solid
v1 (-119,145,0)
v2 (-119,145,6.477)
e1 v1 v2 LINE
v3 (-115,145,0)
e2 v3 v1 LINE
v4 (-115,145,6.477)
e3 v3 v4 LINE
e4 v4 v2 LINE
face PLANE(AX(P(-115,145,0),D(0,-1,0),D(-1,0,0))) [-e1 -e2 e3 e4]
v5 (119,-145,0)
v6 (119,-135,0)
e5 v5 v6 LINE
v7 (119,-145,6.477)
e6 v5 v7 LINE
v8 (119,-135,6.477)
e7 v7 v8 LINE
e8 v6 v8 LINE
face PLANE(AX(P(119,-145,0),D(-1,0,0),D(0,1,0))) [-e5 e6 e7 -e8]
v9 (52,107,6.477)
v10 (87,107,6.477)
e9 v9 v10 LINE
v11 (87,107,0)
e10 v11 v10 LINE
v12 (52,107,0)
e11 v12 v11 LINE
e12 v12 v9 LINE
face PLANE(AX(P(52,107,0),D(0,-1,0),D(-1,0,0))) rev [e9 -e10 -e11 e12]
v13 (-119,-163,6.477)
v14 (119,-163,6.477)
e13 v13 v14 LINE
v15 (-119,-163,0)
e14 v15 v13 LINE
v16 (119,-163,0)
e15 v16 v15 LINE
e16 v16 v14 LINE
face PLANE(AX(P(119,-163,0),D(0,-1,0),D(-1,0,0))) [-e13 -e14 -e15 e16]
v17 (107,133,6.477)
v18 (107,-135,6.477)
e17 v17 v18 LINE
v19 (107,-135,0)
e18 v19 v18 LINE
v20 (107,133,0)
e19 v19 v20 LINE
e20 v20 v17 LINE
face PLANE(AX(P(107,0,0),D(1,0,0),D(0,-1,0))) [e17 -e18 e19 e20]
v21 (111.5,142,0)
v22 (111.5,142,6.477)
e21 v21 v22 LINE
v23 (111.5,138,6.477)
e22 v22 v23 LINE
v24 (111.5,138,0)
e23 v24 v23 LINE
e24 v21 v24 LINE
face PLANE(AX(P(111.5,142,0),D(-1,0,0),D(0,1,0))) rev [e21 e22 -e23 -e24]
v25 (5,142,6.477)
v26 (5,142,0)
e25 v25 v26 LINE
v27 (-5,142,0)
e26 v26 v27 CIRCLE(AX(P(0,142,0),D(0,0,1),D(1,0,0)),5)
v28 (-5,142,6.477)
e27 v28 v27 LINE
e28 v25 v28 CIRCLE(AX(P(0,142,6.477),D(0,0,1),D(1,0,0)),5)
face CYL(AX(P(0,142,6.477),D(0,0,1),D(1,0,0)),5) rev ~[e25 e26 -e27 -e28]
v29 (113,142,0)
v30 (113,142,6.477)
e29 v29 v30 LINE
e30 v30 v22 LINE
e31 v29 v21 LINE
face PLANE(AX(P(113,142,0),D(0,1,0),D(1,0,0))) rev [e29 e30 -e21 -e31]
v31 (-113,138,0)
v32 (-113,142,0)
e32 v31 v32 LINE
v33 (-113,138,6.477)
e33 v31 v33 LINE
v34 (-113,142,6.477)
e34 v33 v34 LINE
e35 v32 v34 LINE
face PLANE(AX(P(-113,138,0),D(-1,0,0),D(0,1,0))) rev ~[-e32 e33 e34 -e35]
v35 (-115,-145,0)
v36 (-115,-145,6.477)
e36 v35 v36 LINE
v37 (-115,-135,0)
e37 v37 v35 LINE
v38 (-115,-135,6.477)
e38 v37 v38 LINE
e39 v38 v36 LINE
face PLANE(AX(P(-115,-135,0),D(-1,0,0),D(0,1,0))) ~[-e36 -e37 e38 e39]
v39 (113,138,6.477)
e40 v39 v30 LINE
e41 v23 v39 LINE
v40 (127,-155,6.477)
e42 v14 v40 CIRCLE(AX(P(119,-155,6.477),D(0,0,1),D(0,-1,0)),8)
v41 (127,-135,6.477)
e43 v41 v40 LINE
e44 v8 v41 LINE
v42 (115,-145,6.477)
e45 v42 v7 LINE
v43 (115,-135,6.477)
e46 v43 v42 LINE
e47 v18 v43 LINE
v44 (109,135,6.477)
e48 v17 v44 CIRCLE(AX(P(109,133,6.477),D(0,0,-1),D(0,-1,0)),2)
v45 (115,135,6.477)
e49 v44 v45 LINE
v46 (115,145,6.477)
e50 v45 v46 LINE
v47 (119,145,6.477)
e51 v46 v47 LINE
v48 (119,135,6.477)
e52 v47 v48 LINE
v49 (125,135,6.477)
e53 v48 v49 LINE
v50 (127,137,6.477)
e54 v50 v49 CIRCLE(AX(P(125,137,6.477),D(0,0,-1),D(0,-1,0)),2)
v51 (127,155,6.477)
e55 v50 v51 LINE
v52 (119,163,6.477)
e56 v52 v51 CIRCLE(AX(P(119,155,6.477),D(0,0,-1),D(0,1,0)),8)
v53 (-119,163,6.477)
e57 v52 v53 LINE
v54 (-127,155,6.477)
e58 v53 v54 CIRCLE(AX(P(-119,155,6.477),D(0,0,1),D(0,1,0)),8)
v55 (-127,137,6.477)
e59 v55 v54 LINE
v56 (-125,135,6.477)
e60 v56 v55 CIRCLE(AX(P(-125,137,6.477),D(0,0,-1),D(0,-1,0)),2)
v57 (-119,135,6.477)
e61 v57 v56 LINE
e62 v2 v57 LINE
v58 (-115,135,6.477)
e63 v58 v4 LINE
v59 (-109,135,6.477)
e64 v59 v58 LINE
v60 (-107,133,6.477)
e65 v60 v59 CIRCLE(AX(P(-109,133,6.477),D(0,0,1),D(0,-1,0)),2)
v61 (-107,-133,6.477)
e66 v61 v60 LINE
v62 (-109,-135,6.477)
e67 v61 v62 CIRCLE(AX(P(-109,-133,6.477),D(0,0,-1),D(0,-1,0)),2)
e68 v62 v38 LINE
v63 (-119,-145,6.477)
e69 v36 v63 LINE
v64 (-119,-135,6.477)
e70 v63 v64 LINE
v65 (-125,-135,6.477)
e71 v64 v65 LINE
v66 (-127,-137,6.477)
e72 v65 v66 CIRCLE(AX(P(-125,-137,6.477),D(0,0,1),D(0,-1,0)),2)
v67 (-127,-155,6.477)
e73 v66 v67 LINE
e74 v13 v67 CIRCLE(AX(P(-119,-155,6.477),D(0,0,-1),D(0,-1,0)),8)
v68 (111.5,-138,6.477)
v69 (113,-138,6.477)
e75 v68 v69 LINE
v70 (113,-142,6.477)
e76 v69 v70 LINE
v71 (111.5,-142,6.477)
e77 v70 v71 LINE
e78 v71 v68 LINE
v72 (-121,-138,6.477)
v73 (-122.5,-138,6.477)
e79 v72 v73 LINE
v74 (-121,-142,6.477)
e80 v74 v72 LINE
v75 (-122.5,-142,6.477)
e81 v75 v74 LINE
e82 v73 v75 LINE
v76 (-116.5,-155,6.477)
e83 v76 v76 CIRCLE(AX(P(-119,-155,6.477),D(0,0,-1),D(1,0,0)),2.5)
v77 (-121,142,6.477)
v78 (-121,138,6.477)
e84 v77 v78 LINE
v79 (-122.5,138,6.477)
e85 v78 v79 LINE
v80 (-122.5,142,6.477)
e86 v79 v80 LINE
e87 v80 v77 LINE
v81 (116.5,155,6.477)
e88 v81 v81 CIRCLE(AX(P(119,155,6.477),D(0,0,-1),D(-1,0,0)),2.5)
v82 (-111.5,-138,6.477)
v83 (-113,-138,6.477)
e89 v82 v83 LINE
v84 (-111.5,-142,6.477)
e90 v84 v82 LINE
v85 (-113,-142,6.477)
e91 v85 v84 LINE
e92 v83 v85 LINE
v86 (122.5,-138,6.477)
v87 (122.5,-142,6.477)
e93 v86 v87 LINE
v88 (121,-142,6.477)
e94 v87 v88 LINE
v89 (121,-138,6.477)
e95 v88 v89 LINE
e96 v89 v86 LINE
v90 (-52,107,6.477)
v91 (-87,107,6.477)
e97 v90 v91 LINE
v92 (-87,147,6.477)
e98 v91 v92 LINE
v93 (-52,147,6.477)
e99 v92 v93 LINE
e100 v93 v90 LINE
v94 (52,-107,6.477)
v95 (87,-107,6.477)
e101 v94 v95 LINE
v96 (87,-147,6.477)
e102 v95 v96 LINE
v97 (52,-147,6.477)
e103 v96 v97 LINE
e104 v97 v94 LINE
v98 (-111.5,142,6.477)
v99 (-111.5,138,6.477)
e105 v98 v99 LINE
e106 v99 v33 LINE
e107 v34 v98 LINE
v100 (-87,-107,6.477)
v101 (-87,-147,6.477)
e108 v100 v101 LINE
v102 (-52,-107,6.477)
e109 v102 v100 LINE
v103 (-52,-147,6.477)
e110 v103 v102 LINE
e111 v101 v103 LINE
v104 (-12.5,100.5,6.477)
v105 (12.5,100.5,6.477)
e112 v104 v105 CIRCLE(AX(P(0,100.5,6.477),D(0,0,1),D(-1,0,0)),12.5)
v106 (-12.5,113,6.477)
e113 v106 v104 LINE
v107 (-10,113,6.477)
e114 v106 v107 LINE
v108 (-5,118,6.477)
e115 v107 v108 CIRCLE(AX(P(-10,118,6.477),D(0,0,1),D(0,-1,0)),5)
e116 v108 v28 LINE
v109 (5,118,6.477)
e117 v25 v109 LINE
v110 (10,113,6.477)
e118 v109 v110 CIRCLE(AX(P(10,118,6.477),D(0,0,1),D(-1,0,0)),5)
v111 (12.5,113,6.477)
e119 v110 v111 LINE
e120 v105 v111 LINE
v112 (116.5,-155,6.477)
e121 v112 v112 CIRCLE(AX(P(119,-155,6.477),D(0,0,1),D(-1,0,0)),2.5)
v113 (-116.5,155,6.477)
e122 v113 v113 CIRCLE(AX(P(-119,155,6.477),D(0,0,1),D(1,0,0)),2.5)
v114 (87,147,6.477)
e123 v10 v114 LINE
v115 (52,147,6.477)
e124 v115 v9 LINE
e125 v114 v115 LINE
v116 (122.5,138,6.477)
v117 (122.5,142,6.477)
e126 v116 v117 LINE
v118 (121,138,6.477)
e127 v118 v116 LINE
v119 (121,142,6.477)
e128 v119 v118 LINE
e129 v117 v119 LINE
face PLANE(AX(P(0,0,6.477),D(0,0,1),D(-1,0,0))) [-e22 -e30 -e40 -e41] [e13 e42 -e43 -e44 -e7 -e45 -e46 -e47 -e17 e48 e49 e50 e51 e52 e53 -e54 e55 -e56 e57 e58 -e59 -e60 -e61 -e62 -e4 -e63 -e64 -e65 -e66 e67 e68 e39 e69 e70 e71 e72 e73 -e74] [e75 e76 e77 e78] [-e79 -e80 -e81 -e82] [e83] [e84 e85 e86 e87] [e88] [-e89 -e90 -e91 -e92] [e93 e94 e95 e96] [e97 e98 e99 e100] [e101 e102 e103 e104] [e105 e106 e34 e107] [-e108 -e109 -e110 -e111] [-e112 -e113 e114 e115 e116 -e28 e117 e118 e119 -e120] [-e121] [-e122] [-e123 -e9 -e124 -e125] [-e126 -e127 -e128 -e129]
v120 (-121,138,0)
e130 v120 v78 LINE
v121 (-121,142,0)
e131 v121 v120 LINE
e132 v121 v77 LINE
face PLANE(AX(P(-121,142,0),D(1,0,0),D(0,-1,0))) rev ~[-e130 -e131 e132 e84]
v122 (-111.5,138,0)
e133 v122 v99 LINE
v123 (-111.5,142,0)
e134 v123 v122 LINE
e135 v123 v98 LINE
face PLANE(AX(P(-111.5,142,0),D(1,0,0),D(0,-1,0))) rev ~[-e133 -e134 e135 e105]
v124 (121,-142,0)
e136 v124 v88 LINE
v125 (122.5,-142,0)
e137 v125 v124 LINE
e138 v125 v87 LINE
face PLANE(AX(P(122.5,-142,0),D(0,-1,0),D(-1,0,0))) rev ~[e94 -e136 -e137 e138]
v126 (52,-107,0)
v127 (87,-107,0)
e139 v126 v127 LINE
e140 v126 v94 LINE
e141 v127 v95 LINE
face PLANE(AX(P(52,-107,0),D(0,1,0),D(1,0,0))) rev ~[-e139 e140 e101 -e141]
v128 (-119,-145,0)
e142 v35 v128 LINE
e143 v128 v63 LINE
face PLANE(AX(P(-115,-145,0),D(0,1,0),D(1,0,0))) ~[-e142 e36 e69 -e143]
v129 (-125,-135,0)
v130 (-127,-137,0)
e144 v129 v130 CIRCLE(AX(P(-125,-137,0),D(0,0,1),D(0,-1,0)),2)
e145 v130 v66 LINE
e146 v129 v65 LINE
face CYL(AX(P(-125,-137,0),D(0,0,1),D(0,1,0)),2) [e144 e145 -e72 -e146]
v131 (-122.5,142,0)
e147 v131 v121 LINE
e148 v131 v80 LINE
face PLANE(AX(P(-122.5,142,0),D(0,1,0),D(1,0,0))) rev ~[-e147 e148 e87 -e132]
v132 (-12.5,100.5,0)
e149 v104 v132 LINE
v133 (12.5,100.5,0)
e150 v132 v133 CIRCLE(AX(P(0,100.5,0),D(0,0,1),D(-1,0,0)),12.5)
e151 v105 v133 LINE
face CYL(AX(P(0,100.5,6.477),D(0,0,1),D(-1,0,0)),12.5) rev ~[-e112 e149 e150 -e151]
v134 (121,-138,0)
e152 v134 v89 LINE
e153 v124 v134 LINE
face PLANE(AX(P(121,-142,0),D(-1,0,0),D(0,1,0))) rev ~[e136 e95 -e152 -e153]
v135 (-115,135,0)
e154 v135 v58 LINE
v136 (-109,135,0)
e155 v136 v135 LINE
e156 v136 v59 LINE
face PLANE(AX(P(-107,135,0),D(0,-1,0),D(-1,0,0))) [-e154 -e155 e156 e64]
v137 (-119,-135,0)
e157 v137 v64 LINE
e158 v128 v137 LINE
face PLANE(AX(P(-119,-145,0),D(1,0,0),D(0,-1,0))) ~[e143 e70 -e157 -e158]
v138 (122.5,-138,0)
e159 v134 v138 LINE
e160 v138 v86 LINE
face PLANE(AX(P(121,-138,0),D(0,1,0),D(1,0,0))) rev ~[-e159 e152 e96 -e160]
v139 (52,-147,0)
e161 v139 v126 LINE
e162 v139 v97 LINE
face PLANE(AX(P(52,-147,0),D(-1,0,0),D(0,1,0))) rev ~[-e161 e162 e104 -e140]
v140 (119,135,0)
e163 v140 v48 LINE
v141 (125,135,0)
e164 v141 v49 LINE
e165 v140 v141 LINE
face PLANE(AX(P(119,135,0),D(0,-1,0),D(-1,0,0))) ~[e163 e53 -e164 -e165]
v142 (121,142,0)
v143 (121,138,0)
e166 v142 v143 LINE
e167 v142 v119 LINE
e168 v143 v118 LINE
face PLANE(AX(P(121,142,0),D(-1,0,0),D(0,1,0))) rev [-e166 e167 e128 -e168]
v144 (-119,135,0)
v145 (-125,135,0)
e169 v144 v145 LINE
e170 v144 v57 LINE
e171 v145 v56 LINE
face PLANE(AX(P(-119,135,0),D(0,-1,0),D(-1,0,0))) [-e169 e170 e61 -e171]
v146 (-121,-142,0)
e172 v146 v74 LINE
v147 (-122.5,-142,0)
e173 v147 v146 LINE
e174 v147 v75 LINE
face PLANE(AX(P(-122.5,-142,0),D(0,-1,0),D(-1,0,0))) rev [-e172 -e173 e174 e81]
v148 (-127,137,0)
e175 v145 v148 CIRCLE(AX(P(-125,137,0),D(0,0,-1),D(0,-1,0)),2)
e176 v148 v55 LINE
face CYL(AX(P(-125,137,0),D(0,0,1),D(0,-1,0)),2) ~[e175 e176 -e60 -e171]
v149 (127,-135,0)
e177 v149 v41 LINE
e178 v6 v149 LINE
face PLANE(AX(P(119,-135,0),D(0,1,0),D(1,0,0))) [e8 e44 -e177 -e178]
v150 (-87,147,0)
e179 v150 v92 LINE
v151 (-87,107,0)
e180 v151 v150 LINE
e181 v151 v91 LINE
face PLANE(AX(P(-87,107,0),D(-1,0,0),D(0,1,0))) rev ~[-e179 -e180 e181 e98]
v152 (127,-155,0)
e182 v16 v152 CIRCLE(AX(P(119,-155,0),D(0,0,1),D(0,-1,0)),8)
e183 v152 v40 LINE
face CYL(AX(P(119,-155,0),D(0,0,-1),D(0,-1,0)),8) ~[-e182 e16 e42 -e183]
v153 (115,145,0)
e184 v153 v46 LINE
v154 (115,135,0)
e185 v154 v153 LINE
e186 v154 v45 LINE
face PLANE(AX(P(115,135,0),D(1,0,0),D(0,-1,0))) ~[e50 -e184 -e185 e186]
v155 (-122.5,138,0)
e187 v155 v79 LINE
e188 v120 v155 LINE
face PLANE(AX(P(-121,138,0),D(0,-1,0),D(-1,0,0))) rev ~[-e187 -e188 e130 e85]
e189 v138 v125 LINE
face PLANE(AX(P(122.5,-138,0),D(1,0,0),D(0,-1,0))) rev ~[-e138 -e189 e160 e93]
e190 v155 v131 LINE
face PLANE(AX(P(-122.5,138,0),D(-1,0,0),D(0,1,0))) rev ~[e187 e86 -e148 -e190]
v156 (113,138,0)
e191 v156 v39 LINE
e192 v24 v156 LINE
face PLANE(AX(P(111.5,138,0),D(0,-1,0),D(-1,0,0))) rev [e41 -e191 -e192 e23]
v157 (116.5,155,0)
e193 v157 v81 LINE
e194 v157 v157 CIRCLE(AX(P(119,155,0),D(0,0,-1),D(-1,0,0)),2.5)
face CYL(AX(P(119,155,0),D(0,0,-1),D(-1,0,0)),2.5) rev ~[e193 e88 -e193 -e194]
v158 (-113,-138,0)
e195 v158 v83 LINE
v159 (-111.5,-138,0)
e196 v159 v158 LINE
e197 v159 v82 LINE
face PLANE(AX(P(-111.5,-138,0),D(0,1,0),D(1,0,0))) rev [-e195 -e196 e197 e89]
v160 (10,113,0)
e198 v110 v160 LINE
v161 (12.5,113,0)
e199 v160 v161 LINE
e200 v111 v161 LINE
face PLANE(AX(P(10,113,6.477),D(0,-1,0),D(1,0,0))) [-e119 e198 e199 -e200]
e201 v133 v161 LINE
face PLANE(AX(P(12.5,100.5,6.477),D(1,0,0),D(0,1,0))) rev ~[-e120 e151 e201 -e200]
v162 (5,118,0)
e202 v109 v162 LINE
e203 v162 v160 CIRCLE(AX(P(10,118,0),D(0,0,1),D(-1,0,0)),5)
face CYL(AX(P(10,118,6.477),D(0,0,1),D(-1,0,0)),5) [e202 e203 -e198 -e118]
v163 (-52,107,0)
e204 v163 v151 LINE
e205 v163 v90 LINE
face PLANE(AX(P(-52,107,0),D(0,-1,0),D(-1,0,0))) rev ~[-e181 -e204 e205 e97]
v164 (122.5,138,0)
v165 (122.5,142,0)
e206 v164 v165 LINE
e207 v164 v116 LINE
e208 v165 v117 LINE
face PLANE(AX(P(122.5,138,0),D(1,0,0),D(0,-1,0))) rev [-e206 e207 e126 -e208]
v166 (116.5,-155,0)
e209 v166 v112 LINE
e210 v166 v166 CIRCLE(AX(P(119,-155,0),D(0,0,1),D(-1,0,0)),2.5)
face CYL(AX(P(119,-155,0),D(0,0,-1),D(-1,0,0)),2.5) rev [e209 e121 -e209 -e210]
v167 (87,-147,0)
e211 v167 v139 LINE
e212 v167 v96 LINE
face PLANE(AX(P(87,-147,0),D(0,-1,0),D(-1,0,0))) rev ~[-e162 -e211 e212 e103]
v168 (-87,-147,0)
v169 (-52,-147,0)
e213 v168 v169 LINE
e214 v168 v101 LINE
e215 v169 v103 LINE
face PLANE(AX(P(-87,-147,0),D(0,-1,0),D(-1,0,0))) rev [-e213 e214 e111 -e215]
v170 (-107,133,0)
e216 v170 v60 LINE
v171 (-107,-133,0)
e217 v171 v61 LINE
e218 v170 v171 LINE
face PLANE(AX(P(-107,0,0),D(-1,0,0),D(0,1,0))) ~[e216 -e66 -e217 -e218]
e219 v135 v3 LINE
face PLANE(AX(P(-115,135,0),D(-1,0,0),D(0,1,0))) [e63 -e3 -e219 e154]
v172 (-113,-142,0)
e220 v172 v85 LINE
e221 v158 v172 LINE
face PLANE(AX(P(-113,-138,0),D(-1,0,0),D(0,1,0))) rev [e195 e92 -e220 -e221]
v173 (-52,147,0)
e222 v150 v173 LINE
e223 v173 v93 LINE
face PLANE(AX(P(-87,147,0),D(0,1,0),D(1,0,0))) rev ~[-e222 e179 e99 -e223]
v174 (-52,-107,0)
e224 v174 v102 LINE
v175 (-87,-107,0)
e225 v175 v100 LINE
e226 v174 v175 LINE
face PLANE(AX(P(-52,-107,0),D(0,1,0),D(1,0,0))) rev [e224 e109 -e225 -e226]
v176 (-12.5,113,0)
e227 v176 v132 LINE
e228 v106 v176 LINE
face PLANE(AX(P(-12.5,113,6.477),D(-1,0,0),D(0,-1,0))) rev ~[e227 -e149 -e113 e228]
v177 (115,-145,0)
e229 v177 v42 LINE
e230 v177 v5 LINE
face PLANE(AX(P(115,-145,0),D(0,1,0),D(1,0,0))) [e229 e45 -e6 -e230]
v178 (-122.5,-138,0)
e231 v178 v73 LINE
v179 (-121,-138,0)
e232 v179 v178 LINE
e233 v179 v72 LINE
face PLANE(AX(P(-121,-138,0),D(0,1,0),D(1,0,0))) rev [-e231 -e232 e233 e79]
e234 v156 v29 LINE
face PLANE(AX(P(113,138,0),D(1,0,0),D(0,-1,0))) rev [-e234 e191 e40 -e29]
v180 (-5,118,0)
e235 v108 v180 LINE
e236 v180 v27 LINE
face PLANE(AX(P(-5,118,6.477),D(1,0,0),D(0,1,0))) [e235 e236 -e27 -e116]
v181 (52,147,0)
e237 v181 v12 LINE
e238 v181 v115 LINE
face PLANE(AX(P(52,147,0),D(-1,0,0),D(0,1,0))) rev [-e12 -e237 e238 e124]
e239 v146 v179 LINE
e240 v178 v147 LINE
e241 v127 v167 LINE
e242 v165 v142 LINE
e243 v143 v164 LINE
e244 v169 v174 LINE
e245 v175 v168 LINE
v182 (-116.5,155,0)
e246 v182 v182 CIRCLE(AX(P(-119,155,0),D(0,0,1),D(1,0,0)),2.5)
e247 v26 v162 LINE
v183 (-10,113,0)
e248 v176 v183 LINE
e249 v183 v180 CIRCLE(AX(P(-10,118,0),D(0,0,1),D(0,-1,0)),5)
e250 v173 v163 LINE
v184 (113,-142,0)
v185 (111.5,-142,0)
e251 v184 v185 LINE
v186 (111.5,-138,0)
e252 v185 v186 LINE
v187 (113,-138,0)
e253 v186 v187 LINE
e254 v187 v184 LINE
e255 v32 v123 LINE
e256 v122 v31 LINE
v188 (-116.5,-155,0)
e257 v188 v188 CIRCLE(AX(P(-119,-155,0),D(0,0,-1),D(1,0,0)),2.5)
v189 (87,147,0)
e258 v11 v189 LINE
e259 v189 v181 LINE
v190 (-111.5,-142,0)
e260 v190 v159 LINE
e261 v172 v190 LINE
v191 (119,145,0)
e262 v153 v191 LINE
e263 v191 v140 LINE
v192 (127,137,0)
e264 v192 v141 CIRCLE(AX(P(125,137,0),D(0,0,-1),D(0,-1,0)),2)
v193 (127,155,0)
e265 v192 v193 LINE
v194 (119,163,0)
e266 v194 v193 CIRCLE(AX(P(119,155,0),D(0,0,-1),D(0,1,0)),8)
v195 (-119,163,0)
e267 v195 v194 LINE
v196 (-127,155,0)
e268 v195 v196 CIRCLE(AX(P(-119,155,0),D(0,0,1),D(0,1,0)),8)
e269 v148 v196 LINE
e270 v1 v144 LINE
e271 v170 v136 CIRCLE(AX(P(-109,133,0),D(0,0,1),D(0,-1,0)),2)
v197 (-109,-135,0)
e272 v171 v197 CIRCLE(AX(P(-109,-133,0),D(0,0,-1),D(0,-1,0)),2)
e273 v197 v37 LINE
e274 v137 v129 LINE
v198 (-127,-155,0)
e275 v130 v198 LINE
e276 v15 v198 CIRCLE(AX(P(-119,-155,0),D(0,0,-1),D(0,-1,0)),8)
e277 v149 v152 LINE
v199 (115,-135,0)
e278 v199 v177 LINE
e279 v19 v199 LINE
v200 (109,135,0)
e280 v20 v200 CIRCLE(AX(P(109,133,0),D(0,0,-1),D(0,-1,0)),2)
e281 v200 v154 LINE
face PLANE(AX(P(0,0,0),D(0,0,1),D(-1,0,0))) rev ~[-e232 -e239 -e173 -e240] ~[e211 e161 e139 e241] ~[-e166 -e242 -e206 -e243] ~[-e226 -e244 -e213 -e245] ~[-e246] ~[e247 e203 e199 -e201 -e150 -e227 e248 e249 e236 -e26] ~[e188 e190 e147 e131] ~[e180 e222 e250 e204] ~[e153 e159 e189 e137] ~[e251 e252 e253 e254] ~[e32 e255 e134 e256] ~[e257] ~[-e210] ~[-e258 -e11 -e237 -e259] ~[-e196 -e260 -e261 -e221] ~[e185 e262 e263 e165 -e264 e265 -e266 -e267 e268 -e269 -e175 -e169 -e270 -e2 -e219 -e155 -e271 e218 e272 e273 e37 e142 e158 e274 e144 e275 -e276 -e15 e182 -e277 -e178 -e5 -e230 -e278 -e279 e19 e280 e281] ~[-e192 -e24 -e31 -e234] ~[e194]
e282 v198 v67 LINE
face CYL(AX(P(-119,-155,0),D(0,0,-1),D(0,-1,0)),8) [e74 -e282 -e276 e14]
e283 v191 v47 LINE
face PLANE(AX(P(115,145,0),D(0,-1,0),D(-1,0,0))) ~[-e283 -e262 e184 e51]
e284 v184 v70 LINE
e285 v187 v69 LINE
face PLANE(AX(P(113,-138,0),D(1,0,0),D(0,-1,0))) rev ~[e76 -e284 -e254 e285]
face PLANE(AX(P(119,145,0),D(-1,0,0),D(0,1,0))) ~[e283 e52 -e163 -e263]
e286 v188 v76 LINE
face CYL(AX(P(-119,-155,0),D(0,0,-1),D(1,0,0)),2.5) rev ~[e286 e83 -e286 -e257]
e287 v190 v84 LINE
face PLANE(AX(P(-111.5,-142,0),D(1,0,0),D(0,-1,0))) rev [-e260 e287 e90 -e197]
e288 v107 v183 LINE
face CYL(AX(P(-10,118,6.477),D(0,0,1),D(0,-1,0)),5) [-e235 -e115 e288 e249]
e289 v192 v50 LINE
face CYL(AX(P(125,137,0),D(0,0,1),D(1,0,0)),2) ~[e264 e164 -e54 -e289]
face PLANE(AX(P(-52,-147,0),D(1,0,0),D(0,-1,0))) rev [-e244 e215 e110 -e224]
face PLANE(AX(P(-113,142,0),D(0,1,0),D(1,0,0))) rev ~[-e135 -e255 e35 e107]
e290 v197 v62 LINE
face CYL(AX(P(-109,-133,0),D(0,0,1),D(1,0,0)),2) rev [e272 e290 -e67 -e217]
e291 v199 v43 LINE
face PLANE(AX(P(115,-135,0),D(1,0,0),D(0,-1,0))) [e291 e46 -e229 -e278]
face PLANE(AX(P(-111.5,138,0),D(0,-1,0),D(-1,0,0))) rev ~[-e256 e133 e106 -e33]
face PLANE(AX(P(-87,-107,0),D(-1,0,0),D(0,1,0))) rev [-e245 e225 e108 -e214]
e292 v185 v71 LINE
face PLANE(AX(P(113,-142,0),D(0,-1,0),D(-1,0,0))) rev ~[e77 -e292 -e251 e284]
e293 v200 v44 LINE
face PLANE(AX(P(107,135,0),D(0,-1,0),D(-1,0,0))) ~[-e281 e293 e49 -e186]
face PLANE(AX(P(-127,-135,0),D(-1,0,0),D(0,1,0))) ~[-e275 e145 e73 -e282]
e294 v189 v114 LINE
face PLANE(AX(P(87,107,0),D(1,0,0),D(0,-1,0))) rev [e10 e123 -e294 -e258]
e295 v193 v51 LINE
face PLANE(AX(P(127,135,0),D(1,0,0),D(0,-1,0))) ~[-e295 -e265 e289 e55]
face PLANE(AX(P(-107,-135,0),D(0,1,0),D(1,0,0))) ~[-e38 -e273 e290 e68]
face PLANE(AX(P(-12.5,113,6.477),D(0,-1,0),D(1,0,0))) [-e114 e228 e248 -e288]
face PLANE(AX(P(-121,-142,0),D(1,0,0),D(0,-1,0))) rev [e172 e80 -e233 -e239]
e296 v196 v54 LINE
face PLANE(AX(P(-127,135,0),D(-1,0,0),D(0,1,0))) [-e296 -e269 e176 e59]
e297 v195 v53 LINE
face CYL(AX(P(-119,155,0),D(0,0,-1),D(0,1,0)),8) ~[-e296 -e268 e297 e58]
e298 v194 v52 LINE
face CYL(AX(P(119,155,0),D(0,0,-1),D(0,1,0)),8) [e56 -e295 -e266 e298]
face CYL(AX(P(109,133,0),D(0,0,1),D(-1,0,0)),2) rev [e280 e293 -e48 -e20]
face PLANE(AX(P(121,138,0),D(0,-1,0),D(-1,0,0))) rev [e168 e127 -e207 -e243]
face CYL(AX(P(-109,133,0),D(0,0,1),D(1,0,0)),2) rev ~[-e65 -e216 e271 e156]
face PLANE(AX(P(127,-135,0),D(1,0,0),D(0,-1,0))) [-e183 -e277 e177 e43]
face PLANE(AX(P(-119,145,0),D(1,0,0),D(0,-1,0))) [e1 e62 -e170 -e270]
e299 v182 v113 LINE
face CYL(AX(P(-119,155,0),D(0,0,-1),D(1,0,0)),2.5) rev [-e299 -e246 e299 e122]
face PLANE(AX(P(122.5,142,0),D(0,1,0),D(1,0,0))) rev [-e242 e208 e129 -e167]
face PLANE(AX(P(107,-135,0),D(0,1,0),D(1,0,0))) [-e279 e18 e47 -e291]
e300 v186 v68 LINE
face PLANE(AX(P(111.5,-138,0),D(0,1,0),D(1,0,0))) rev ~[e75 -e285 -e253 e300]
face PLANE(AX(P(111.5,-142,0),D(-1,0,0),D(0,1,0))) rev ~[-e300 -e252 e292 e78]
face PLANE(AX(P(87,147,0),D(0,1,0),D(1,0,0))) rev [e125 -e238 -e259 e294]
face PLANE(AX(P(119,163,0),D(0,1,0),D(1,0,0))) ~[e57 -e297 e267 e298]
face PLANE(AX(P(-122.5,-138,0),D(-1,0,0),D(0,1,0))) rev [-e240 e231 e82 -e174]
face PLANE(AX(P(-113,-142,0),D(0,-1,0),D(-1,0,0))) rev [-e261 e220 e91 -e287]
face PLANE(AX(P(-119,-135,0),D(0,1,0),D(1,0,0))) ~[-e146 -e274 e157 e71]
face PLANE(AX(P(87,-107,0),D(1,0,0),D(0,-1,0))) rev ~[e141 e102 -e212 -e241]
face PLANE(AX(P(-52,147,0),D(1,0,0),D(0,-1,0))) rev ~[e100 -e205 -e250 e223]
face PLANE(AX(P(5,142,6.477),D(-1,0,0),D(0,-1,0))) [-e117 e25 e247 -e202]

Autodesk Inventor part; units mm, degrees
ref_plane "YZ Plane" through (0, 0, 0) normal (1, 0, 0) x (0, 1, 0)
ref_plane "XZ Plane" through (0, 0, 0) normal (0, 1, 0) x (-1, 0, 0)
ref_plane "XY Plane" through (0, 0, 0) normal (0, 0, 1) x (1, 0, 0)
sketch "Sketch1" plane through (0, 0, 0) normal (0, 0, 1) x (1, 0, 0)
  line L0 (0, 0) -> (-107, 0)
  line L1 (-107, 0) -> (-107, 135)
  line L2 (-107, 135) -> (-115, 135)
  line L3 (-115, 135) -> (-115, 145)
  line L4 (-115, 145) -> (-119, 145)
  line L5 (-119, 145) -> (-119, 135)
  line L6 (-119, 135) -> (-127, 135)
  line L7 (-127, 135) -> (-127, 155)
  arc A0 (-119, 163) -> (-127, 155) centre (-119, 155) ccw
  line L8 (-119, 163) -> (0, 163)
  line L9 (0, 163) -> (0, 0)
  circle A1 centre (-119, 155) radius 2.5
  line L10 (-122.5, 142) -> (-121, 142)
  line L11 (-121, 142) -> (-121, 138)
  line L12 (-121, 138) -> (-122.5, 138)
  line L13 (-122.5, 138) -> (-122.5, 142)
  line L14 (-113, 142) -> (-111.5, 142)
  line L15 (-111.5, 142) -> (-111.5, 138)
  line L16 (-111.5, 138) -> (-113, 138)
  line L17 (-113, 138) -> (-113, 142)
  line L18 (-87, 147) -> (-52, 147)
  line L19 (-52, 147) -> (-52, 107)
  line L20 (-52, 107) -> (-87, 107)
  line L21 (-87, 107) -> (-87, 147)
  point P0 (-117, 145)
  point P1 (-121, 140)
  point P2 (-119, 140)
  point P3 (-113, 140)
  point P4 (-115, 140)
  point P5 (-52, 127)
  dimension "d1" = 145
  dimension "d3" = 4
  dimension "d4" = 10
  dimension "d5" = 10
  dimension "d6" = 10
  dimension "d7" = 127
  dimension "d8" = 8
  dimension "d9" = 10
  dimension "d10" = 5
  dimension "d14" = 4
  dimension "d15" = 8
  dimension "d16" = 1.5
  dimension "d17" = 4
  dimension "d18" = 40
  dimension "d19" = 35
  dimension "d20" = 127
  dimension "d21" = 20
extrude "Extrusion1" add sketch "Sketch1" along normal blind 6.477
fillet "Fillet1" radius 2 2 edges at (-107, 135, 3.2385) (-127, 135, 3.2385)
mirror "Mirror1" about plane through (-107, 0, 0) normal (0, -1, 0) of "Extrusion1", "Fillet1"
mirror "Mirror2" about plane through (0, 0, 0) normal (1, 0, 0) of "Extrusion1", "Mirror1", "Fillet1"
sketch "Sketch2" plane through (0, 0, 6.477) normal (0, 0, 1) x (1, 0, 0)
  arc A0 (5, 118) -> (10, 113) centre (10, 118) ccw projected
  line L0 (10, 113) -> (113, 113) projected
  line L1 (113, 113) -> (113, -113) projected
  line L2 (113, -113) -> (-113, -113) projected
  line L3 (-113, -113) -> (-113, 113) projected
  line L4 (-113, 113) -> (-10, 113) projected
  arc A1 (-10, 113) -> (-5, 118) centre (-10, 118) ccw projected
  line L5 (-5, 118) -> (-5, 142) projected
  arc A2 (5, 142) -> (-5, 142) centre (0, 142) ccw projected
  line L6 (5, 142) -> (5, 118) projected
  line L7 (-52, 147) -> (-52, 127) projected
  line L8 (-52, 127) -> (-87, 127) projected
  line L9 (-87, 127) -> (-87, 147) projected
  line L10 (-87, 147) -> (-52, 147) projected
  line L11 (-52, -147) -> (-87, -147) projected
  line L12 (-87, -147) -> (-87, -127) projected
  line L13 (-87, -127) -> (-52, -127) projected
  line L14 (-52, -127) -> (-52, -147) projected
  line L15 (52, 147) -> (87, 147) projected
  line L16 (87, 147) -> (87, 127) projected
  line L17 (87, 127) -> (52, 127) projected
  line L18 (52, 127) -> (52, 147) projected
  line L19 (52, -147) -> (52, -127) projected
  line L20 (52, -127) -> (87, -127) projected
  line L21 (87, -127) -> (87, -147) projected
  line L22 (87, -147) -> (52, -147) projected
  circle A3 centre (-119, 155) radius 2.5 projected
  circle A4 centre (-119, -155) radius 2.5 projected
  circle A5 centre (119, 155) radius 2.5 projected
  circle A6 centre (119, -155) radius 2.5 projected
  line L23 (-121, 138) -> (-122.5, 138) projected
  line L24 (-122.5, 138) -> (-122.5, 142) projected
  line L25 (-122.5, 142) -> (-121, 142) projected
  line L26 (-121, 142) -> (-121, 138) projected
  line L27 (-111.5, 138) -> (-113, 138) projected
  line L28 (-113, 138) -> (-113, 142) projected
  line L29 (-113, 142) -> (-111.5, 142) projected
  line L30 (-111.5, 142) -> (-111.5, 138) projected
  line L31 (-111.5, -142) -> (-113, -142) projected
  line L32 (-113, -142) -> (-113, -138) projected
  line L33 (-113, -138) -> (-111.5, -138) projected
  line L34 (-111.5, -138) -> (-111.5, -142) projected
  line L35 (-121, -142) -> (-122.5, -142) projected
  line L36 (-122.5, -142) -> (-122.5, -138) projected
  line L37 (-122.5, -138) -> (-121, -138) projected
  line L38 (-121, -138) -> (-121, -142) projected
  line L39 (111.5, 142) -> (113, 142) projected
  line L40 (113, 142) -> (113, 138) projected
  line L41 (113, 138) -> (111.5, 138) projected
  line L42 (111.5, 138) -> (111.5, 142) projected
  line L43 (121, 142) -> (122.5, 142) projected
  line L44 (122.5, 142) -> (122.5, 138) projected
  line L45 (122.5, 138) -> (121, 138) projected
  line L46 (121, 138) -> (121, 142) projected
  line L47 (111.5, -138) -> (113, -138) projected
  line L48 (113, -138) -> (113, -142) projected
  line L49 (113, -142) -> (111.5, -142) projected
  line L50 (111.5, -142) -> (111.5, -138) projected
  line L51 (121, -138) -> (122.5, -138) projected
  line L52 (122.5, -138) -> (122.5, -142) projected
  line L53 (122.5, -142) -> (121, -142) projected
  line L54 (121, -142) -> (121, -138) projected
  line L55 (-127, 155) -> (-127, -155) projected
  arc A7 (-127, -155) -> (-119, -163) centre (-119, -155) ccw projected
  line L56 (-119, -163) -> (119, -163) projected
  arc A8 (119, -163) -> (127, -155) centre (119, -155) ccw projected
  line L57 (127, -155) -> (127, 155) projected
  arc A9 (127, 155) -> (119, 163) centre (119, 155) ccw projected
  line L58 (119, 163) -> (-119, 163) projected
  arc A10 (-119, 163) -> (-127, 155) centre (-119, 155) ccw projected
  line L59 (-12.5, 113) -> (-12.5, 100.5)
  arc A11 (-12.5, 100.5) -> (12.5, 100.5) centre (0, 100.5) ccw
  line L60 (12.5, 100.5) -> (12.5, 113)
  point P0 (0, 0)
  dimension "d22" = 12.5
  dimension "d24" = 12.5
extrude "Extrusion2" cut sketch "Sketch2" against normal through all contours A0 L0 L60 A11 L59 L4 A1 L5 A2 L6
properties part number "BED PLATE BOTTOM"
